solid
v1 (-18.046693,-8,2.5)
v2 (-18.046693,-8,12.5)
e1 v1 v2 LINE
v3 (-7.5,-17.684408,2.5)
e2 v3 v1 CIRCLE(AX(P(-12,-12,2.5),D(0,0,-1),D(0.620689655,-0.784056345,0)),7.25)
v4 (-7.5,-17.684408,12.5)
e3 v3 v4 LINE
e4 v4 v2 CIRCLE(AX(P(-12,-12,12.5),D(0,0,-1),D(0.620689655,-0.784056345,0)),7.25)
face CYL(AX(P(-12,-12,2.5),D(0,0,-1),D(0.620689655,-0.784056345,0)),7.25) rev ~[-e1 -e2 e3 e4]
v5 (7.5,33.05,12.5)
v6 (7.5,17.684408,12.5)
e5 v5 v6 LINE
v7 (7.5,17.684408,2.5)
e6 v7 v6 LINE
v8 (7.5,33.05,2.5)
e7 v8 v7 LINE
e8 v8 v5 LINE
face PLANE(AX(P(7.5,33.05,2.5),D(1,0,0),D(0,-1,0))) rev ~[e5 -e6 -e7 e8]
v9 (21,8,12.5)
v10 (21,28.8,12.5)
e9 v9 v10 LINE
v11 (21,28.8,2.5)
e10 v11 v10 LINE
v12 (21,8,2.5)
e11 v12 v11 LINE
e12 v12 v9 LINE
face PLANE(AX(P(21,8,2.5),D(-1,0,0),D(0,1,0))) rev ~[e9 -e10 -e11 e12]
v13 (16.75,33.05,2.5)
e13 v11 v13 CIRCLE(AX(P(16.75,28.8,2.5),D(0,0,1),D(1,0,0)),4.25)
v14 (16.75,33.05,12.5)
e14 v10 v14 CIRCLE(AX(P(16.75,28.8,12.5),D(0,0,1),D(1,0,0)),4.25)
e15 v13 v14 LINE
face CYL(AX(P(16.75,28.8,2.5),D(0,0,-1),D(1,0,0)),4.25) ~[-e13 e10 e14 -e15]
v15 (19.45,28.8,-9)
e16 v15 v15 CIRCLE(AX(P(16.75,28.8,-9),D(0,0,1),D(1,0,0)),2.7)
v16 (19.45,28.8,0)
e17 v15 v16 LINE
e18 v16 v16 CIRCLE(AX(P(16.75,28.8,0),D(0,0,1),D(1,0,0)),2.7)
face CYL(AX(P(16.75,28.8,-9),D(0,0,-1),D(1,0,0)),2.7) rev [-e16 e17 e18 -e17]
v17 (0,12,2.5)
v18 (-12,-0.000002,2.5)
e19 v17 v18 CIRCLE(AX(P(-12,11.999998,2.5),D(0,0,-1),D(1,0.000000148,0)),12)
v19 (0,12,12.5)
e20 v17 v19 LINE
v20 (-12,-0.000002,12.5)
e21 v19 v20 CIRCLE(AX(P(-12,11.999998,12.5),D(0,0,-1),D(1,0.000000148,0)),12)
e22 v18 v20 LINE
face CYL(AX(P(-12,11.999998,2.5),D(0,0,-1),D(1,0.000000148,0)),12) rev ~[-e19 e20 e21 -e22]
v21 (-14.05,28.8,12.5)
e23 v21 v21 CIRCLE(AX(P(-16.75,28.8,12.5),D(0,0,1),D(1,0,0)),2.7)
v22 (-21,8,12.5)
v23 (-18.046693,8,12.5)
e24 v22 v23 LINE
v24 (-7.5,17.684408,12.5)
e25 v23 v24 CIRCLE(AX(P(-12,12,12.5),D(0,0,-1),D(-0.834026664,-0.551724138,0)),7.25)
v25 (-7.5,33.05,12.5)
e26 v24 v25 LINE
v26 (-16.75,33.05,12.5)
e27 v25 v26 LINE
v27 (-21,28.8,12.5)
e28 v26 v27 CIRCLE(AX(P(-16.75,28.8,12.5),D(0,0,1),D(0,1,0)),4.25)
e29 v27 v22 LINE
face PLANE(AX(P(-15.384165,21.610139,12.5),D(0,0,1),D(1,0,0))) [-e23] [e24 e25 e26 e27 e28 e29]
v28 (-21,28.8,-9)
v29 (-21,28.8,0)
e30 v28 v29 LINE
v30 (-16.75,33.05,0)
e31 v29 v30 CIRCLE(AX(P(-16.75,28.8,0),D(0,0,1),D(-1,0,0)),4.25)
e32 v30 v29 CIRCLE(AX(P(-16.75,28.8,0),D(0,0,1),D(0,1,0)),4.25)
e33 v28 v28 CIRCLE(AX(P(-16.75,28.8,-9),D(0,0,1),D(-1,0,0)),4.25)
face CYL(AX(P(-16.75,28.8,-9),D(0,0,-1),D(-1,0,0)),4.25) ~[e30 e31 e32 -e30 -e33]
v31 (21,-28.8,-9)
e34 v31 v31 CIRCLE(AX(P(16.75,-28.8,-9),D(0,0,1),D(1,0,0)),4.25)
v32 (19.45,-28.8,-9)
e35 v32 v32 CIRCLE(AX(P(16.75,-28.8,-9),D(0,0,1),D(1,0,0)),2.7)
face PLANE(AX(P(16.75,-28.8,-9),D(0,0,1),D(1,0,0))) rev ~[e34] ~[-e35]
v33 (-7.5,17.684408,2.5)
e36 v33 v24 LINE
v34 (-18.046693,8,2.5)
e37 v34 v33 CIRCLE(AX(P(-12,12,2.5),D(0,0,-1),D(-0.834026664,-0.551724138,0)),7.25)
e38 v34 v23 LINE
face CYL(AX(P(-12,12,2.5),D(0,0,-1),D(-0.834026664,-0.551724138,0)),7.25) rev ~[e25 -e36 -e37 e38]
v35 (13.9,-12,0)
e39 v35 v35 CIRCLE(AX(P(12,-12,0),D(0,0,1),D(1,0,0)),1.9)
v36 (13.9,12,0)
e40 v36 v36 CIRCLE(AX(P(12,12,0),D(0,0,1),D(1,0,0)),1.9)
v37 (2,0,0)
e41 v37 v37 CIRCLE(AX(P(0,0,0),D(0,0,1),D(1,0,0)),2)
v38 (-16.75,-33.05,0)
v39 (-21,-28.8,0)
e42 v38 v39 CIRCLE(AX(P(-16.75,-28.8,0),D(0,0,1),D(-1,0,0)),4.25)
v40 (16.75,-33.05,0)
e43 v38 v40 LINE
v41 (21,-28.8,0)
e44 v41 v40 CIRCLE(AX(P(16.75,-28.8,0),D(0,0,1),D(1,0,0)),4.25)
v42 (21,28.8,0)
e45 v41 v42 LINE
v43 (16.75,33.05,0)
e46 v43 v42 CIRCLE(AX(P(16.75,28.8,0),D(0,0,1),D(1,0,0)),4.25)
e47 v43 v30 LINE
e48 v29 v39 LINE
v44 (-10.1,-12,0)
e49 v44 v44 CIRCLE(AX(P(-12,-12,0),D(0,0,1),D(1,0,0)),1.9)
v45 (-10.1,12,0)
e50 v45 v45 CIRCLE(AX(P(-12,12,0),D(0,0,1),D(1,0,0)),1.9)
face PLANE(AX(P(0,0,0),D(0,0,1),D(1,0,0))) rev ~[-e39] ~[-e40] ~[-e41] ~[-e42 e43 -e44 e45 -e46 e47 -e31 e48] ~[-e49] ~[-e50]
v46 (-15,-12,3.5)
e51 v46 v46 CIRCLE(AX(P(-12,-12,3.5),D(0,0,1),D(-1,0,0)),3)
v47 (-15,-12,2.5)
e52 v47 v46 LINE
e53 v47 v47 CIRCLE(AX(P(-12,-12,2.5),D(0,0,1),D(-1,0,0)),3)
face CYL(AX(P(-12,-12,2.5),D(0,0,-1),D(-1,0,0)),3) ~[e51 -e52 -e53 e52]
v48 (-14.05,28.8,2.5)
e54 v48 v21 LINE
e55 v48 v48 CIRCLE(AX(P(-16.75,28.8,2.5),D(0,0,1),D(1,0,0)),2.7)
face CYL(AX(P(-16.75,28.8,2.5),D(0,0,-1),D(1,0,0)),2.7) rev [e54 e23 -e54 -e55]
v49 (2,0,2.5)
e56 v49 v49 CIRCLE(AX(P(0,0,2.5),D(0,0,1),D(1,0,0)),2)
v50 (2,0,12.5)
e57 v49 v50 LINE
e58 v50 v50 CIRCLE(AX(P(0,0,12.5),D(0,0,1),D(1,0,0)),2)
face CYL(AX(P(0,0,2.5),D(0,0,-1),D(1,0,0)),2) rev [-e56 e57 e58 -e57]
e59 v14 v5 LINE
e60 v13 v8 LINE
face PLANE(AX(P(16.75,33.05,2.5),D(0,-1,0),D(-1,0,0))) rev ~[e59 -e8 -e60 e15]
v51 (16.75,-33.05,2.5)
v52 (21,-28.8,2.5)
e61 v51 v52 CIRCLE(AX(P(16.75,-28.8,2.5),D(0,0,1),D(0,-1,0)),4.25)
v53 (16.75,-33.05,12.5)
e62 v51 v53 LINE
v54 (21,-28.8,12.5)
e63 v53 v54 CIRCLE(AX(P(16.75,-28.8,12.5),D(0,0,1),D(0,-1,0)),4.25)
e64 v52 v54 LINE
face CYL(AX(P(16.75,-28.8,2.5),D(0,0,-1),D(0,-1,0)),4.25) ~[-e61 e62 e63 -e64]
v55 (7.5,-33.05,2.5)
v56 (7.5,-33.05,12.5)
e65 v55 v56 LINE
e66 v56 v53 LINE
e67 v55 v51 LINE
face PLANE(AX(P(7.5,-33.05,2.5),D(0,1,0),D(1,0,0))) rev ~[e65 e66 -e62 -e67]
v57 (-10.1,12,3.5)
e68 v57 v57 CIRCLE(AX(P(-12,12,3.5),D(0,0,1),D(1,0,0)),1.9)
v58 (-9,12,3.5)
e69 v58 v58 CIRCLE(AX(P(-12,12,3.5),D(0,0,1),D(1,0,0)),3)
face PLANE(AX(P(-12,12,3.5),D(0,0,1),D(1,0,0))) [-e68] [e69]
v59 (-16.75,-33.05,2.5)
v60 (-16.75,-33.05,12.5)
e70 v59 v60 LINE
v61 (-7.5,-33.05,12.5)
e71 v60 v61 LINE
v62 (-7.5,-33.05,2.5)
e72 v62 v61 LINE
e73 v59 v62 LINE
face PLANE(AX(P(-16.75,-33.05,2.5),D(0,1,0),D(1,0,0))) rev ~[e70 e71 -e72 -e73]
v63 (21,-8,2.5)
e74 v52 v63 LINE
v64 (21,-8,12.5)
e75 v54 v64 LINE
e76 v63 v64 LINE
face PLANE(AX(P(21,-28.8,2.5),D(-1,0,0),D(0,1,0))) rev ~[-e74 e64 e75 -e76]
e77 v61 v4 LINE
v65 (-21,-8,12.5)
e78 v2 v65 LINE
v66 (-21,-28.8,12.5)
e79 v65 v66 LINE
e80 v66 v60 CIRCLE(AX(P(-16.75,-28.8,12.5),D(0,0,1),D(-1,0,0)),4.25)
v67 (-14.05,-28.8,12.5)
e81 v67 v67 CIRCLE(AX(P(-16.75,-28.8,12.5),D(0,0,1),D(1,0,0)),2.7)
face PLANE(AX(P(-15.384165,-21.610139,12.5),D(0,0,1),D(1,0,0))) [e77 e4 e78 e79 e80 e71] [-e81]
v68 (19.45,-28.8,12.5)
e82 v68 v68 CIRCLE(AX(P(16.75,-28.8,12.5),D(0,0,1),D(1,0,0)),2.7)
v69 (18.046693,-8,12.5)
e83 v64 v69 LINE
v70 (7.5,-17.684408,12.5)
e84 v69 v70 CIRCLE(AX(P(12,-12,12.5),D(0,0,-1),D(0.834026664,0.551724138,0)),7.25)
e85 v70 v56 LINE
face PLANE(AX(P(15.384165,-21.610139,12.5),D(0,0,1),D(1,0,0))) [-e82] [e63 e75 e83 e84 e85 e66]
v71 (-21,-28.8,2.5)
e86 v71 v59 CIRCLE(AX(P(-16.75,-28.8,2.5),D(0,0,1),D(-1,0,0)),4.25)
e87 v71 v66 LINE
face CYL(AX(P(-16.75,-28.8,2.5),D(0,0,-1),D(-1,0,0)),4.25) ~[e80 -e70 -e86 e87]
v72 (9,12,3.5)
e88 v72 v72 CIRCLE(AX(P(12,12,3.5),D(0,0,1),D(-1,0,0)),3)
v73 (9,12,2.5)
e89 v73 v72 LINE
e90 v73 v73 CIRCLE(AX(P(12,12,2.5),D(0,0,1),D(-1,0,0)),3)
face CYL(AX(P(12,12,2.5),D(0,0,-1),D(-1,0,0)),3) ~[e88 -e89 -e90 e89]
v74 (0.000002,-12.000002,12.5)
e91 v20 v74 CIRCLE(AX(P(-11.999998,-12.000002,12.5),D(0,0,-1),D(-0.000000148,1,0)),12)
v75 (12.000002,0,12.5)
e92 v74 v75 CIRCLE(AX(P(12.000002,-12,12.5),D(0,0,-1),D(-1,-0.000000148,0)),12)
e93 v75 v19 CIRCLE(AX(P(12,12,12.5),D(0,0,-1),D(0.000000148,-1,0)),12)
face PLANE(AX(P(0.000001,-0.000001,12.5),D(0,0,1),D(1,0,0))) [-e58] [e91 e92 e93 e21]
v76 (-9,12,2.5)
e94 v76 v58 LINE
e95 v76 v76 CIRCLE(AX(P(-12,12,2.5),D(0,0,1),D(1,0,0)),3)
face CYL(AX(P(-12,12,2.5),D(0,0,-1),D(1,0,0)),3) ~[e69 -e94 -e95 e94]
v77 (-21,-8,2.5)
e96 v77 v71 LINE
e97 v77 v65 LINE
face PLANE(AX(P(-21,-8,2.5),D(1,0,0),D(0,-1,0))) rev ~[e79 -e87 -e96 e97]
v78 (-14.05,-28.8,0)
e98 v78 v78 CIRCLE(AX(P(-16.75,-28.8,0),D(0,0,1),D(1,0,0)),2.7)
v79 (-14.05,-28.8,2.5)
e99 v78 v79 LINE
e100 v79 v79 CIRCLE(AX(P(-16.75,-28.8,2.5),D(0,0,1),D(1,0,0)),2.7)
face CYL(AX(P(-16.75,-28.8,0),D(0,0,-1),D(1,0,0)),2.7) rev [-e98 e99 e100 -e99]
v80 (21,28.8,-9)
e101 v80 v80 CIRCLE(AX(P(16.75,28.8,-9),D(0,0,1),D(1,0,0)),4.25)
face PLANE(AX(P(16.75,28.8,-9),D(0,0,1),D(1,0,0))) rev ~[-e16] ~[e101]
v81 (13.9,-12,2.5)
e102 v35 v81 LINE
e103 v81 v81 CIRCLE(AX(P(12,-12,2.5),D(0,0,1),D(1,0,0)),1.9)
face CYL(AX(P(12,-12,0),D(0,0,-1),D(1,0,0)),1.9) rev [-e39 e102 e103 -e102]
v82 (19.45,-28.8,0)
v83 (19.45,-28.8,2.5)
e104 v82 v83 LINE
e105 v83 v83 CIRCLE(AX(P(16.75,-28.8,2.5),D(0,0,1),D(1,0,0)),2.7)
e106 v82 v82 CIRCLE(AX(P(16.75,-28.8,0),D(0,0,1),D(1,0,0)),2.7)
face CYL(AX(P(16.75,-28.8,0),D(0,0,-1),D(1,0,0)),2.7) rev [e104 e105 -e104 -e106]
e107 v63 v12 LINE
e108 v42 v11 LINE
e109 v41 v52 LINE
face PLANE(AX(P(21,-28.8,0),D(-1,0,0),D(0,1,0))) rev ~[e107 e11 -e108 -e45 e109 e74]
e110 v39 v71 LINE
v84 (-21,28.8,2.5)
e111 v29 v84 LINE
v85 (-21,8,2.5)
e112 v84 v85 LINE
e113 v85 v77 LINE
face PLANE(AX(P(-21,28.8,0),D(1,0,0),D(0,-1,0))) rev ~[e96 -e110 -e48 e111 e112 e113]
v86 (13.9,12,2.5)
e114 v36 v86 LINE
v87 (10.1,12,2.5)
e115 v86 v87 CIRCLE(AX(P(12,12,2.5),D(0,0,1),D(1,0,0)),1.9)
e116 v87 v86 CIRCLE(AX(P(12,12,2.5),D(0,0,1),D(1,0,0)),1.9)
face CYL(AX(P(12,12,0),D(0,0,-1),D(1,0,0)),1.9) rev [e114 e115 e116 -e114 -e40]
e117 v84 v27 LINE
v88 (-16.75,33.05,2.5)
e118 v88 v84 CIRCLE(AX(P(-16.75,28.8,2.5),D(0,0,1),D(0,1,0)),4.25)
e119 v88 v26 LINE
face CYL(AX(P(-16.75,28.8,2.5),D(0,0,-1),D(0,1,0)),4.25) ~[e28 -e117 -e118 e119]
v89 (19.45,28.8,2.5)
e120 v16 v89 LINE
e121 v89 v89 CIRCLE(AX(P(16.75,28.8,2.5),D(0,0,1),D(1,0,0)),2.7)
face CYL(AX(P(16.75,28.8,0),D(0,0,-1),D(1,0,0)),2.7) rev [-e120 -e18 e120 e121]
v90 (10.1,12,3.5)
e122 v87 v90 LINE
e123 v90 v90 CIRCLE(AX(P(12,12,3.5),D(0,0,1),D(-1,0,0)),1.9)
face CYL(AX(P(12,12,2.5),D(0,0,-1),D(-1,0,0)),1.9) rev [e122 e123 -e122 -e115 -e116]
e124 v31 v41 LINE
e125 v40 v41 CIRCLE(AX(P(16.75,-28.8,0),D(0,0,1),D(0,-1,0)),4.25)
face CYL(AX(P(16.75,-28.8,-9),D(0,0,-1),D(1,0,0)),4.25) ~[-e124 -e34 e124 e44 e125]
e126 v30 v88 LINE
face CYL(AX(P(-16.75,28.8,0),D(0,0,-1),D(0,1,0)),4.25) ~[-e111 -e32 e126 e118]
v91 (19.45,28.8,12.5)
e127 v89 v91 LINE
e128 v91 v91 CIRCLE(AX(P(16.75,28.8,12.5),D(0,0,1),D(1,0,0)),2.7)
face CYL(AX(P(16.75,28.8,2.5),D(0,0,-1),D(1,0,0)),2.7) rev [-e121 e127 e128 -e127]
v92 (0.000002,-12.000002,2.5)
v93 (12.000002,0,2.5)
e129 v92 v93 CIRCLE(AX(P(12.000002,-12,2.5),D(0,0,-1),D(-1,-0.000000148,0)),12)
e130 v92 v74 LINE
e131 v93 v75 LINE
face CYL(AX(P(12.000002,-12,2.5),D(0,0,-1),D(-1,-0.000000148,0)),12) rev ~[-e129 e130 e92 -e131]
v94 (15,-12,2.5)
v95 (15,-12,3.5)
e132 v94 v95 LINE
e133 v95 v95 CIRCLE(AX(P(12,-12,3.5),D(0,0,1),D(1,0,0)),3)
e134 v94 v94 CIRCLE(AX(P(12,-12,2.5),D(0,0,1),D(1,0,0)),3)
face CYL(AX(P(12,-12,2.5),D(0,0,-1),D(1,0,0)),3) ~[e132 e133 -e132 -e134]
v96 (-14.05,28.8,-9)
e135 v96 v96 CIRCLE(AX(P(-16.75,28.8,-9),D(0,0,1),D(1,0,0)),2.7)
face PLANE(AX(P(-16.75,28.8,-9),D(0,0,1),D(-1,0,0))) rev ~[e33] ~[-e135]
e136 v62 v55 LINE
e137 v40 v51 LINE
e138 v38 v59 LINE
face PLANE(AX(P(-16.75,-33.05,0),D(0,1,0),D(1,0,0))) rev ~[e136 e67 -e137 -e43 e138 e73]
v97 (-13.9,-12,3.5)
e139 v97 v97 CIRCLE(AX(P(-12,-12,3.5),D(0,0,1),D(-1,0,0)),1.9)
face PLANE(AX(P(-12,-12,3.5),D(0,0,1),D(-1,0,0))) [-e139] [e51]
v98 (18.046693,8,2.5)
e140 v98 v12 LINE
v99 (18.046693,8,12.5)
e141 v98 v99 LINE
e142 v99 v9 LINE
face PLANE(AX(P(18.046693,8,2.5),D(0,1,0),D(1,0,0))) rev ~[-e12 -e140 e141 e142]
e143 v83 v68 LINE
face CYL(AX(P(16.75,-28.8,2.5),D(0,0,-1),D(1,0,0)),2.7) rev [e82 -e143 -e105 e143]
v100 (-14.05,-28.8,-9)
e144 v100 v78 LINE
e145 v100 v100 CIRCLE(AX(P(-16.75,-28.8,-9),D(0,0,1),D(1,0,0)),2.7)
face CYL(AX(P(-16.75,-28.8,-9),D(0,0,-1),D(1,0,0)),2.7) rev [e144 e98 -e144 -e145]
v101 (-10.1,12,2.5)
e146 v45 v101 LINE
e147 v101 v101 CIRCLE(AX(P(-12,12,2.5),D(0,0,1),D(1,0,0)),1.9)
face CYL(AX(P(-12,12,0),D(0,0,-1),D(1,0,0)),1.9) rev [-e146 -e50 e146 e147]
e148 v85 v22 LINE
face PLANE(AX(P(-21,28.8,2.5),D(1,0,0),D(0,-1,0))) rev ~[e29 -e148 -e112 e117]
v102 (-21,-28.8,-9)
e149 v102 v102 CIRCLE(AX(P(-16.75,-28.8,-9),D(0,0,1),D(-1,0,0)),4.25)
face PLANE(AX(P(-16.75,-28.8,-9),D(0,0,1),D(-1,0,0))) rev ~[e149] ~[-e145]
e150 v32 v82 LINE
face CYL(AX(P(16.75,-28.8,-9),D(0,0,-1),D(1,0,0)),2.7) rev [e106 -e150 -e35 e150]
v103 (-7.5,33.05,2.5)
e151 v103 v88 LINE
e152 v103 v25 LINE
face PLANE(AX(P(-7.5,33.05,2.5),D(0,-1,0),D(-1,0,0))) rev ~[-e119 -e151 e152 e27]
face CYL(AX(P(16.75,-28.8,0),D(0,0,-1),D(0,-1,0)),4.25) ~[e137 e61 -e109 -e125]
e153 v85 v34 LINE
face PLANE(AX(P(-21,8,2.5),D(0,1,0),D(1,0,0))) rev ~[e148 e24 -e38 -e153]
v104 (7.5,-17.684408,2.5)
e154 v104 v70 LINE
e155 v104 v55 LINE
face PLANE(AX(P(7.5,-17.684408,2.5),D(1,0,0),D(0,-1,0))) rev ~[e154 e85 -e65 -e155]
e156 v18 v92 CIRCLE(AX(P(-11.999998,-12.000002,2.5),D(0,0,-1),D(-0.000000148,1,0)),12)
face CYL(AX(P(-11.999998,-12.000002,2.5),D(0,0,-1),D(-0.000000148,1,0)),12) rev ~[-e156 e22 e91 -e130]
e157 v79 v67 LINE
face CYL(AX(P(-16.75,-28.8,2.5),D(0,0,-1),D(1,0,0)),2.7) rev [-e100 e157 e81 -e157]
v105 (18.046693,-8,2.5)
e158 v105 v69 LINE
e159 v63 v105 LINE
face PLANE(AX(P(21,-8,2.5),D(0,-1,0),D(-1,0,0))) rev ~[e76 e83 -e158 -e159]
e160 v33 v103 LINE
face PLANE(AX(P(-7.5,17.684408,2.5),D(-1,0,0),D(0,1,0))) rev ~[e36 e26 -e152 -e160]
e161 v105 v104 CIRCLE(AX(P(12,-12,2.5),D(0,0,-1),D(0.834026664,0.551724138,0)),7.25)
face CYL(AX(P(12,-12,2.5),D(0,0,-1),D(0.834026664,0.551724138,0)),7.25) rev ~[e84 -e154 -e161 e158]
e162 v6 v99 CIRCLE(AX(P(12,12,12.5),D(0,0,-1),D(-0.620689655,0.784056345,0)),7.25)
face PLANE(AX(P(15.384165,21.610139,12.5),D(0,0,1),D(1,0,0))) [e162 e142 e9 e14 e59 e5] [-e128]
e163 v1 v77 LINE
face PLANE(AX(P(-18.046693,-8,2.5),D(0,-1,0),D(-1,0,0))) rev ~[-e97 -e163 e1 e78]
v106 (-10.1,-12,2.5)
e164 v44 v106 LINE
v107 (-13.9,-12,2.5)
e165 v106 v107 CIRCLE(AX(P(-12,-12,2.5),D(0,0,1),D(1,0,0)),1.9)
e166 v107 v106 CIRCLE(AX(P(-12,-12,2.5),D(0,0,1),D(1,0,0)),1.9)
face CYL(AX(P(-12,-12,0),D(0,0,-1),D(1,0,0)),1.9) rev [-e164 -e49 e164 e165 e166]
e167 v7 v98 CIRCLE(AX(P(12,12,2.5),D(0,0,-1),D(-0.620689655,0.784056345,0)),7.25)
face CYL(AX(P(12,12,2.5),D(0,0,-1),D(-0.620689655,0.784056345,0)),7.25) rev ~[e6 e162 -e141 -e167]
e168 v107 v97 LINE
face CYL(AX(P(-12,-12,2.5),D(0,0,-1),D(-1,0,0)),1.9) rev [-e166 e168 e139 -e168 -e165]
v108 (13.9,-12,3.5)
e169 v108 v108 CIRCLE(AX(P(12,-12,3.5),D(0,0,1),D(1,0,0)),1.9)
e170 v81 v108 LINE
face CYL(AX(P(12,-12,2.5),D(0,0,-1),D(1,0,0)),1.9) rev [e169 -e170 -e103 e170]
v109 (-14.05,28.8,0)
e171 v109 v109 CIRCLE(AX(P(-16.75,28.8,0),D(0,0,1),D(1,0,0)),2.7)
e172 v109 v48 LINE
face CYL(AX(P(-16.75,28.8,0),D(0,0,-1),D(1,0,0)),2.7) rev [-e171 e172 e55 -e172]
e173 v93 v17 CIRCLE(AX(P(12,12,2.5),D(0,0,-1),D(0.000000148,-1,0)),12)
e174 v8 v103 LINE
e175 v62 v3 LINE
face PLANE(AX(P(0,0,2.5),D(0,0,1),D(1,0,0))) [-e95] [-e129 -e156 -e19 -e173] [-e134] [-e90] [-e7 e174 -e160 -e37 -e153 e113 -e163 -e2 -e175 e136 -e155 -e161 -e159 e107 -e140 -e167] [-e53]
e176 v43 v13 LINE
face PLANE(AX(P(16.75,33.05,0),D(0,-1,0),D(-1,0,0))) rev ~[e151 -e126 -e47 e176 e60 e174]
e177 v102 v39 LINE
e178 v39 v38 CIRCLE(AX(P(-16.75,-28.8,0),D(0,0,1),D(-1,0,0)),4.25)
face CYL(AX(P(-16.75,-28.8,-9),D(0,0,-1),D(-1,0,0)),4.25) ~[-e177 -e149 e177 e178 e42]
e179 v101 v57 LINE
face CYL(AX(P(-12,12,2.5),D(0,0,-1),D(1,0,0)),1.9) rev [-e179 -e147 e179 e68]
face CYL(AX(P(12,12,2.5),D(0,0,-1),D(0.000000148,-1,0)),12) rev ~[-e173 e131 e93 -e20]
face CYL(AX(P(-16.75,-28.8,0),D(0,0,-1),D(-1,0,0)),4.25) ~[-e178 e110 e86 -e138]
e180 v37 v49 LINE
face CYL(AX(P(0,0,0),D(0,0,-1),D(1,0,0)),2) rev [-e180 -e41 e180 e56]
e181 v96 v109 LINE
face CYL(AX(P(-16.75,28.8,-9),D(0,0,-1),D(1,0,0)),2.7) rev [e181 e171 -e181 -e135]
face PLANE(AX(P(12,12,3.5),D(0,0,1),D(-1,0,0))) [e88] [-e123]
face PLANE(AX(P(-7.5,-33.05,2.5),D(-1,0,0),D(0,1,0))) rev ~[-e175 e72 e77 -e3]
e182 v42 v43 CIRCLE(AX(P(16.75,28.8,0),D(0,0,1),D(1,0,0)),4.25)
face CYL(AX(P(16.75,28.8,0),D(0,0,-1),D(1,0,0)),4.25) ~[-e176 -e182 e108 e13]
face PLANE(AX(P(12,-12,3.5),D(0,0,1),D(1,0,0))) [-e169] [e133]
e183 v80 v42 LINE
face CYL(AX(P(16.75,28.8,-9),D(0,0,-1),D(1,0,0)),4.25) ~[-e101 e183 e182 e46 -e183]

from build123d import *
from build123d.topology import SkipClean

# Parameters (mm, degrees)
SKETCH_1_R      = 1.9
SKETCH_1_R_2    = 2.7
SKETCH_1_R_3    = 2
EXTRUDE_1_DEPTH = 2.5
EXTRUDE_START   = -9
SKETCH_1_3_R    = 4.25
SKETCH_1_3_R_2  = 2.7
EXTRUDE_2_DEPTH = 9
SKETCH_2_R      = 3
SKETCH_2_R_2    = 1.9
EXTRUDE_4_DEPTH = 1
EXTRUDE_START_2 = 2.5
SKETCH_1_7_R    = 2.7
SKETCH_1_7_R_2  = 2
EXTRUDE_5_DEPTH = 10


with BuildPart() as part:
    # 草图1 → 凸台-拉伸1 (new body)
    with BuildSketch(Plane.XY):
        with BuildLine():
            ThreePointArc((-16.75, 33.05), (-19.75520382, 31.80520382), (-21, 28.8))
            Line((-21, 28.8), (-21, -28.8))
            ThreePointArc((-21, -28.8), (-19.75520382, -31.80520382), (-16.75, -33.05))
            Line((-16.75, -33.05), (16.75, -33.05))
            ThreePointArc((16.75, -33.05), (19.75520382, -31.80520382), (21, -28.8))
            Line((21, -28.8), (21, 28.8))
            ThreePointArc((21, 28.8), (19.75520382, 31.80520382), (16.75, 33.05))
            Line((16.75, 33.05), (-16.75, 33.05))
        make_face()
        with Locations((-12, 12)):
            Circle(SKETCH_1_R, mode=Mode.SUBTRACT)
        with Locations((-12, -12)):
            Circle(SKETCH_1_R, mode=Mode.SUBTRACT)
        with Locations((-16.75, 28.8)):
            Circle(SKETCH_1_R_2, mode=Mode.SUBTRACT)
        with Locations((-16.75, -28.8)):
            Circle(SKETCH_1_R_2, mode=Mode.SUBTRACT)
        with Locations((12, 12)):
            Circle(SKETCH_1_R, mode=Mode.SUBTRACT)
        with Locations((16.75, 28.8)):
            Circle(SKETCH_1_R_2, mode=Mode.SUBTRACT)
        with Locations((12, -12)):
            Circle(SKETCH_1_R, mode=Mode.SUBTRACT)
        with Locations((16.75, -28.8)):
            Circle(SKETCH_1_R_2, mode=Mode.SUBTRACT)
        Circle(SKETCH_1_R_3, mode=Mode.SUBTRACT)
    extrude(amount=EXTRUDE_1_DEPTH)

    # 草图1<3> → 凸台-拉伸2 (add)
    # profile 1 of 4: a face of its own
    with SkipClean():  # the faces are left unmerged after this step: merging them gives an invalid solid
        with BuildSketch(Plane.XY.offset(EXTRUDE_START)):
            with Locations(Location((-16.75, 28.8, 0), (0, 0, 180))):
                Circle(SKETCH_1_3_R)
            with Locations((-16.75, 28.8)):
                Circle(SKETCH_1_3_R_2, mode=Mode.SUBTRACT)
        # profile 2 of 4: a face of its own
        with BuildSketch(Plane.XY.offset(EXTRUDE_START)):
            with Locations(Location((-16.75, -28.8, 0), (0, 0, 180))):
                Circle(SKETCH_1_3_R)
            with Locations((-16.75, -28.8)):
                Circle(SKETCH_1_3_R_2, mode=Mode.SUBTRACT)
        # profile 3 of 4: a face of its own
        with BuildSketch(Plane.XY.offset(EXTRUDE_START)):
            with Locations((16.75, -28.8)):
                Circle(SKETCH_1_3_R)
            with Locations((16.75, -28.8)):
                Circle(SKETCH_1_3_R_2, mode=Mode.SUBTRACT)
        # profile 4 of 4: a face of its own
        with BuildSketch(Plane.XY.offset(EXTRUDE_START)):
            with Locations((16.75, 28.8)):
                Circle(SKETCH_1_3_R)
            with Locations((16.75, 28.8)):
                Circle(SKETCH_1_3_R_2, mode=Mode.SUBTRACT)
        extrude(amount=EXTRUDE_2_DEPTH)

    # 草图2 → 凸台-拉伸4 (add)
    # profile 1 of 4: a face of its own
    with SkipClean():  # the faces are left unmerged after this step: merging them gives an invalid solid
        with BuildSketch(Plane.XY.offset(2.5)):
            with Locations((-12, 12)):
                Circle(SKETCH_2_R)
            with Locations((-12, 12)):
                Circle(SKETCH_2_R_2, mode=Mode.SUBTRACT)
        # profile 2 of 4: a face of its own
        with BuildSketch(Plane.XY.offset(2.5)):
            with Locations(Location((12, 12, 0), (0, 0, 180))):
                Circle(SKETCH_2_R)
            with Locations(Location((12, 12, 0), (0, 0, 180))):
                Circle(SKETCH_2_R_2, mode=Mode.SUBTRACT)
        # profile 3 of 4: a face of its own
        with BuildSketch(Plane.XY.offset(2.5)):
            with Locations((12, -12)):
                Circle(SKETCH_2_R)
            with Locations((12, -12)):
                Circle(SKETCH_2_R_2, mode=Mode.SUBTRACT)
        # profile 4 of 4: a face of its own
        with BuildSketch(Plane.XY.offset(2.5)):
            with Locations(Location((-12, -12, 0), (0, 0, 180))):
                Circle(SKETCH_2_R)
            with Locations(Location((-12, -12, 0), (0, 0, 180))):
                Circle(SKETCH_2_R_2, mode=Mode.SUBTRACT)
        extrude(amount=EXTRUDE_4_DEPTH)

    # 草图1<7> → 凸台-拉伸5 (add)
    # profile 1 of 5: a face of its own
    with SkipClean():  # the faces are left unmerged after this step: merging them gives an invalid solid
        with BuildSketch(Plane.XY.offset(EXTRUDE_START_2)):
            with BuildLine():
                Line((-21, 8), (-18.046693311, 8))
                ThreePointArc((-18.046693311, 8), (-16.903570847, 17.34017724), (-7.5, 17.6844085))
                Line((-7.5, 17.6844085), (-7.5, 33.05))
                Line((-7.5, 33.05), (-16.75, 33.05))
                ThreePointArc((-16.75, 33.05), (-19.75520382, 31.80520382), (-21, 28.8))
                Line((-21, 28.8), (-21, 8))
            make_face()
            with Locations((-16.75, 28.8)):
                Circle(SKETCH_1_7_R, mode=Mode.SUBTRACT)
        # profile 2 of 5: a face of its own
        with BuildSketch(Plane.XY.offset(EXTRUDE_START_2)):
            with BuildLine():
                Line((-18.046693311, -8), (-21, -8))
                Line((-21, -8), (-21, -28.8))
                ThreePointArc((-21, -28.8), (-19.75520382, -31.80520382), (-16.75, -33.05))
                Line((-16.75, -33.05), (-7.5, -33.05))
                Line((-7.5, -33.05), (-7.5, -17.6844085))
                ThreePointArc((-7.5, -17.6844085), (-16.903570847, -17.34017724), (-18.046693311, -8))
            make_face()
            with Locations((-16.75, -28.8)):
                Circle(SKETCH_1_7_R, mode=Mode.SUBTRACT)
        # profile 3 of 5: a face of its own
        with BuildSketch(Plane.XY.offset(EXTRUDE_START_2)):
            with BuildLine():
                Line((7.5, 33.05), (7.5, 17.6844085))
                ThreePointArc((7.5, 17.6844085), (16.903570847, 17.34017724), (18.046693311, 8))
                Line((18.046693311, 8), (21, 8))
                Line((21, 8), (21, 28.8))
                ThreePointArc((21, 28.8), (19.75520382, 31.80520382), (16.75, 33.05))
                Line((16.75, 33.05), (7.5, 33.05))
            make_face()
            with Locations((16.75, 28.8)):
                Circle(SKETCH_1_7_R, mode=Mode.SUBTRACT)
        # profile 4 of 5: a face of its own
        with BuildSketch(Plane.XY.offset(EXTRUDE_START_2)):
            with BuildLine():
                Line((7.5, -17.6844085), (7.5, -33.05))
                Line((7.5, -33.05), (16.75, -33.05))
                ThreePointArc((16.75, -33.05), (19.75520382, -31.80520382), (21, -28.8))
                Line((21, -28.8), (21, -8))
                Line((21, -8), (18.046693311, -8))
                ThreePointArc((18.046693311, -8), (16.903570847, -17.34017724), (7.5, -17.6844085))
            make_face()
            with Locations((16.75, -28.8)):
                Circle(SKETCH_1_7_R, mode=Mode.SUBTRACT)
        # profile 5 of 5: a face of its own
        with BuildSketch(Plane.XY.offset(EXTRUDE_START_2)):
            with BuildLine():
                ThreePointArc((12.000001775, 0), (3.514719253, 3.514717998), (0, 12))
                ThreePointArc((0, 12), (-3.514717998, 3.514717478), (-12, -1.775e-06))
                ThreePointArc((-12, -1.775e-06), (-3.514717478, -3.514719773), (1.775e-06, -12.000001775))
                ThreePointArc((1.775e-06, -12.000001775), (3.514719773, -3.514719253), (12.000001775, 0))
            make_face()
            Circle(SKETCH_1_7_R_2, mode=Mode.SUBTRACT)
        extrude(amount=EXTRUDE_5_DEPTH)


solid = part.part
